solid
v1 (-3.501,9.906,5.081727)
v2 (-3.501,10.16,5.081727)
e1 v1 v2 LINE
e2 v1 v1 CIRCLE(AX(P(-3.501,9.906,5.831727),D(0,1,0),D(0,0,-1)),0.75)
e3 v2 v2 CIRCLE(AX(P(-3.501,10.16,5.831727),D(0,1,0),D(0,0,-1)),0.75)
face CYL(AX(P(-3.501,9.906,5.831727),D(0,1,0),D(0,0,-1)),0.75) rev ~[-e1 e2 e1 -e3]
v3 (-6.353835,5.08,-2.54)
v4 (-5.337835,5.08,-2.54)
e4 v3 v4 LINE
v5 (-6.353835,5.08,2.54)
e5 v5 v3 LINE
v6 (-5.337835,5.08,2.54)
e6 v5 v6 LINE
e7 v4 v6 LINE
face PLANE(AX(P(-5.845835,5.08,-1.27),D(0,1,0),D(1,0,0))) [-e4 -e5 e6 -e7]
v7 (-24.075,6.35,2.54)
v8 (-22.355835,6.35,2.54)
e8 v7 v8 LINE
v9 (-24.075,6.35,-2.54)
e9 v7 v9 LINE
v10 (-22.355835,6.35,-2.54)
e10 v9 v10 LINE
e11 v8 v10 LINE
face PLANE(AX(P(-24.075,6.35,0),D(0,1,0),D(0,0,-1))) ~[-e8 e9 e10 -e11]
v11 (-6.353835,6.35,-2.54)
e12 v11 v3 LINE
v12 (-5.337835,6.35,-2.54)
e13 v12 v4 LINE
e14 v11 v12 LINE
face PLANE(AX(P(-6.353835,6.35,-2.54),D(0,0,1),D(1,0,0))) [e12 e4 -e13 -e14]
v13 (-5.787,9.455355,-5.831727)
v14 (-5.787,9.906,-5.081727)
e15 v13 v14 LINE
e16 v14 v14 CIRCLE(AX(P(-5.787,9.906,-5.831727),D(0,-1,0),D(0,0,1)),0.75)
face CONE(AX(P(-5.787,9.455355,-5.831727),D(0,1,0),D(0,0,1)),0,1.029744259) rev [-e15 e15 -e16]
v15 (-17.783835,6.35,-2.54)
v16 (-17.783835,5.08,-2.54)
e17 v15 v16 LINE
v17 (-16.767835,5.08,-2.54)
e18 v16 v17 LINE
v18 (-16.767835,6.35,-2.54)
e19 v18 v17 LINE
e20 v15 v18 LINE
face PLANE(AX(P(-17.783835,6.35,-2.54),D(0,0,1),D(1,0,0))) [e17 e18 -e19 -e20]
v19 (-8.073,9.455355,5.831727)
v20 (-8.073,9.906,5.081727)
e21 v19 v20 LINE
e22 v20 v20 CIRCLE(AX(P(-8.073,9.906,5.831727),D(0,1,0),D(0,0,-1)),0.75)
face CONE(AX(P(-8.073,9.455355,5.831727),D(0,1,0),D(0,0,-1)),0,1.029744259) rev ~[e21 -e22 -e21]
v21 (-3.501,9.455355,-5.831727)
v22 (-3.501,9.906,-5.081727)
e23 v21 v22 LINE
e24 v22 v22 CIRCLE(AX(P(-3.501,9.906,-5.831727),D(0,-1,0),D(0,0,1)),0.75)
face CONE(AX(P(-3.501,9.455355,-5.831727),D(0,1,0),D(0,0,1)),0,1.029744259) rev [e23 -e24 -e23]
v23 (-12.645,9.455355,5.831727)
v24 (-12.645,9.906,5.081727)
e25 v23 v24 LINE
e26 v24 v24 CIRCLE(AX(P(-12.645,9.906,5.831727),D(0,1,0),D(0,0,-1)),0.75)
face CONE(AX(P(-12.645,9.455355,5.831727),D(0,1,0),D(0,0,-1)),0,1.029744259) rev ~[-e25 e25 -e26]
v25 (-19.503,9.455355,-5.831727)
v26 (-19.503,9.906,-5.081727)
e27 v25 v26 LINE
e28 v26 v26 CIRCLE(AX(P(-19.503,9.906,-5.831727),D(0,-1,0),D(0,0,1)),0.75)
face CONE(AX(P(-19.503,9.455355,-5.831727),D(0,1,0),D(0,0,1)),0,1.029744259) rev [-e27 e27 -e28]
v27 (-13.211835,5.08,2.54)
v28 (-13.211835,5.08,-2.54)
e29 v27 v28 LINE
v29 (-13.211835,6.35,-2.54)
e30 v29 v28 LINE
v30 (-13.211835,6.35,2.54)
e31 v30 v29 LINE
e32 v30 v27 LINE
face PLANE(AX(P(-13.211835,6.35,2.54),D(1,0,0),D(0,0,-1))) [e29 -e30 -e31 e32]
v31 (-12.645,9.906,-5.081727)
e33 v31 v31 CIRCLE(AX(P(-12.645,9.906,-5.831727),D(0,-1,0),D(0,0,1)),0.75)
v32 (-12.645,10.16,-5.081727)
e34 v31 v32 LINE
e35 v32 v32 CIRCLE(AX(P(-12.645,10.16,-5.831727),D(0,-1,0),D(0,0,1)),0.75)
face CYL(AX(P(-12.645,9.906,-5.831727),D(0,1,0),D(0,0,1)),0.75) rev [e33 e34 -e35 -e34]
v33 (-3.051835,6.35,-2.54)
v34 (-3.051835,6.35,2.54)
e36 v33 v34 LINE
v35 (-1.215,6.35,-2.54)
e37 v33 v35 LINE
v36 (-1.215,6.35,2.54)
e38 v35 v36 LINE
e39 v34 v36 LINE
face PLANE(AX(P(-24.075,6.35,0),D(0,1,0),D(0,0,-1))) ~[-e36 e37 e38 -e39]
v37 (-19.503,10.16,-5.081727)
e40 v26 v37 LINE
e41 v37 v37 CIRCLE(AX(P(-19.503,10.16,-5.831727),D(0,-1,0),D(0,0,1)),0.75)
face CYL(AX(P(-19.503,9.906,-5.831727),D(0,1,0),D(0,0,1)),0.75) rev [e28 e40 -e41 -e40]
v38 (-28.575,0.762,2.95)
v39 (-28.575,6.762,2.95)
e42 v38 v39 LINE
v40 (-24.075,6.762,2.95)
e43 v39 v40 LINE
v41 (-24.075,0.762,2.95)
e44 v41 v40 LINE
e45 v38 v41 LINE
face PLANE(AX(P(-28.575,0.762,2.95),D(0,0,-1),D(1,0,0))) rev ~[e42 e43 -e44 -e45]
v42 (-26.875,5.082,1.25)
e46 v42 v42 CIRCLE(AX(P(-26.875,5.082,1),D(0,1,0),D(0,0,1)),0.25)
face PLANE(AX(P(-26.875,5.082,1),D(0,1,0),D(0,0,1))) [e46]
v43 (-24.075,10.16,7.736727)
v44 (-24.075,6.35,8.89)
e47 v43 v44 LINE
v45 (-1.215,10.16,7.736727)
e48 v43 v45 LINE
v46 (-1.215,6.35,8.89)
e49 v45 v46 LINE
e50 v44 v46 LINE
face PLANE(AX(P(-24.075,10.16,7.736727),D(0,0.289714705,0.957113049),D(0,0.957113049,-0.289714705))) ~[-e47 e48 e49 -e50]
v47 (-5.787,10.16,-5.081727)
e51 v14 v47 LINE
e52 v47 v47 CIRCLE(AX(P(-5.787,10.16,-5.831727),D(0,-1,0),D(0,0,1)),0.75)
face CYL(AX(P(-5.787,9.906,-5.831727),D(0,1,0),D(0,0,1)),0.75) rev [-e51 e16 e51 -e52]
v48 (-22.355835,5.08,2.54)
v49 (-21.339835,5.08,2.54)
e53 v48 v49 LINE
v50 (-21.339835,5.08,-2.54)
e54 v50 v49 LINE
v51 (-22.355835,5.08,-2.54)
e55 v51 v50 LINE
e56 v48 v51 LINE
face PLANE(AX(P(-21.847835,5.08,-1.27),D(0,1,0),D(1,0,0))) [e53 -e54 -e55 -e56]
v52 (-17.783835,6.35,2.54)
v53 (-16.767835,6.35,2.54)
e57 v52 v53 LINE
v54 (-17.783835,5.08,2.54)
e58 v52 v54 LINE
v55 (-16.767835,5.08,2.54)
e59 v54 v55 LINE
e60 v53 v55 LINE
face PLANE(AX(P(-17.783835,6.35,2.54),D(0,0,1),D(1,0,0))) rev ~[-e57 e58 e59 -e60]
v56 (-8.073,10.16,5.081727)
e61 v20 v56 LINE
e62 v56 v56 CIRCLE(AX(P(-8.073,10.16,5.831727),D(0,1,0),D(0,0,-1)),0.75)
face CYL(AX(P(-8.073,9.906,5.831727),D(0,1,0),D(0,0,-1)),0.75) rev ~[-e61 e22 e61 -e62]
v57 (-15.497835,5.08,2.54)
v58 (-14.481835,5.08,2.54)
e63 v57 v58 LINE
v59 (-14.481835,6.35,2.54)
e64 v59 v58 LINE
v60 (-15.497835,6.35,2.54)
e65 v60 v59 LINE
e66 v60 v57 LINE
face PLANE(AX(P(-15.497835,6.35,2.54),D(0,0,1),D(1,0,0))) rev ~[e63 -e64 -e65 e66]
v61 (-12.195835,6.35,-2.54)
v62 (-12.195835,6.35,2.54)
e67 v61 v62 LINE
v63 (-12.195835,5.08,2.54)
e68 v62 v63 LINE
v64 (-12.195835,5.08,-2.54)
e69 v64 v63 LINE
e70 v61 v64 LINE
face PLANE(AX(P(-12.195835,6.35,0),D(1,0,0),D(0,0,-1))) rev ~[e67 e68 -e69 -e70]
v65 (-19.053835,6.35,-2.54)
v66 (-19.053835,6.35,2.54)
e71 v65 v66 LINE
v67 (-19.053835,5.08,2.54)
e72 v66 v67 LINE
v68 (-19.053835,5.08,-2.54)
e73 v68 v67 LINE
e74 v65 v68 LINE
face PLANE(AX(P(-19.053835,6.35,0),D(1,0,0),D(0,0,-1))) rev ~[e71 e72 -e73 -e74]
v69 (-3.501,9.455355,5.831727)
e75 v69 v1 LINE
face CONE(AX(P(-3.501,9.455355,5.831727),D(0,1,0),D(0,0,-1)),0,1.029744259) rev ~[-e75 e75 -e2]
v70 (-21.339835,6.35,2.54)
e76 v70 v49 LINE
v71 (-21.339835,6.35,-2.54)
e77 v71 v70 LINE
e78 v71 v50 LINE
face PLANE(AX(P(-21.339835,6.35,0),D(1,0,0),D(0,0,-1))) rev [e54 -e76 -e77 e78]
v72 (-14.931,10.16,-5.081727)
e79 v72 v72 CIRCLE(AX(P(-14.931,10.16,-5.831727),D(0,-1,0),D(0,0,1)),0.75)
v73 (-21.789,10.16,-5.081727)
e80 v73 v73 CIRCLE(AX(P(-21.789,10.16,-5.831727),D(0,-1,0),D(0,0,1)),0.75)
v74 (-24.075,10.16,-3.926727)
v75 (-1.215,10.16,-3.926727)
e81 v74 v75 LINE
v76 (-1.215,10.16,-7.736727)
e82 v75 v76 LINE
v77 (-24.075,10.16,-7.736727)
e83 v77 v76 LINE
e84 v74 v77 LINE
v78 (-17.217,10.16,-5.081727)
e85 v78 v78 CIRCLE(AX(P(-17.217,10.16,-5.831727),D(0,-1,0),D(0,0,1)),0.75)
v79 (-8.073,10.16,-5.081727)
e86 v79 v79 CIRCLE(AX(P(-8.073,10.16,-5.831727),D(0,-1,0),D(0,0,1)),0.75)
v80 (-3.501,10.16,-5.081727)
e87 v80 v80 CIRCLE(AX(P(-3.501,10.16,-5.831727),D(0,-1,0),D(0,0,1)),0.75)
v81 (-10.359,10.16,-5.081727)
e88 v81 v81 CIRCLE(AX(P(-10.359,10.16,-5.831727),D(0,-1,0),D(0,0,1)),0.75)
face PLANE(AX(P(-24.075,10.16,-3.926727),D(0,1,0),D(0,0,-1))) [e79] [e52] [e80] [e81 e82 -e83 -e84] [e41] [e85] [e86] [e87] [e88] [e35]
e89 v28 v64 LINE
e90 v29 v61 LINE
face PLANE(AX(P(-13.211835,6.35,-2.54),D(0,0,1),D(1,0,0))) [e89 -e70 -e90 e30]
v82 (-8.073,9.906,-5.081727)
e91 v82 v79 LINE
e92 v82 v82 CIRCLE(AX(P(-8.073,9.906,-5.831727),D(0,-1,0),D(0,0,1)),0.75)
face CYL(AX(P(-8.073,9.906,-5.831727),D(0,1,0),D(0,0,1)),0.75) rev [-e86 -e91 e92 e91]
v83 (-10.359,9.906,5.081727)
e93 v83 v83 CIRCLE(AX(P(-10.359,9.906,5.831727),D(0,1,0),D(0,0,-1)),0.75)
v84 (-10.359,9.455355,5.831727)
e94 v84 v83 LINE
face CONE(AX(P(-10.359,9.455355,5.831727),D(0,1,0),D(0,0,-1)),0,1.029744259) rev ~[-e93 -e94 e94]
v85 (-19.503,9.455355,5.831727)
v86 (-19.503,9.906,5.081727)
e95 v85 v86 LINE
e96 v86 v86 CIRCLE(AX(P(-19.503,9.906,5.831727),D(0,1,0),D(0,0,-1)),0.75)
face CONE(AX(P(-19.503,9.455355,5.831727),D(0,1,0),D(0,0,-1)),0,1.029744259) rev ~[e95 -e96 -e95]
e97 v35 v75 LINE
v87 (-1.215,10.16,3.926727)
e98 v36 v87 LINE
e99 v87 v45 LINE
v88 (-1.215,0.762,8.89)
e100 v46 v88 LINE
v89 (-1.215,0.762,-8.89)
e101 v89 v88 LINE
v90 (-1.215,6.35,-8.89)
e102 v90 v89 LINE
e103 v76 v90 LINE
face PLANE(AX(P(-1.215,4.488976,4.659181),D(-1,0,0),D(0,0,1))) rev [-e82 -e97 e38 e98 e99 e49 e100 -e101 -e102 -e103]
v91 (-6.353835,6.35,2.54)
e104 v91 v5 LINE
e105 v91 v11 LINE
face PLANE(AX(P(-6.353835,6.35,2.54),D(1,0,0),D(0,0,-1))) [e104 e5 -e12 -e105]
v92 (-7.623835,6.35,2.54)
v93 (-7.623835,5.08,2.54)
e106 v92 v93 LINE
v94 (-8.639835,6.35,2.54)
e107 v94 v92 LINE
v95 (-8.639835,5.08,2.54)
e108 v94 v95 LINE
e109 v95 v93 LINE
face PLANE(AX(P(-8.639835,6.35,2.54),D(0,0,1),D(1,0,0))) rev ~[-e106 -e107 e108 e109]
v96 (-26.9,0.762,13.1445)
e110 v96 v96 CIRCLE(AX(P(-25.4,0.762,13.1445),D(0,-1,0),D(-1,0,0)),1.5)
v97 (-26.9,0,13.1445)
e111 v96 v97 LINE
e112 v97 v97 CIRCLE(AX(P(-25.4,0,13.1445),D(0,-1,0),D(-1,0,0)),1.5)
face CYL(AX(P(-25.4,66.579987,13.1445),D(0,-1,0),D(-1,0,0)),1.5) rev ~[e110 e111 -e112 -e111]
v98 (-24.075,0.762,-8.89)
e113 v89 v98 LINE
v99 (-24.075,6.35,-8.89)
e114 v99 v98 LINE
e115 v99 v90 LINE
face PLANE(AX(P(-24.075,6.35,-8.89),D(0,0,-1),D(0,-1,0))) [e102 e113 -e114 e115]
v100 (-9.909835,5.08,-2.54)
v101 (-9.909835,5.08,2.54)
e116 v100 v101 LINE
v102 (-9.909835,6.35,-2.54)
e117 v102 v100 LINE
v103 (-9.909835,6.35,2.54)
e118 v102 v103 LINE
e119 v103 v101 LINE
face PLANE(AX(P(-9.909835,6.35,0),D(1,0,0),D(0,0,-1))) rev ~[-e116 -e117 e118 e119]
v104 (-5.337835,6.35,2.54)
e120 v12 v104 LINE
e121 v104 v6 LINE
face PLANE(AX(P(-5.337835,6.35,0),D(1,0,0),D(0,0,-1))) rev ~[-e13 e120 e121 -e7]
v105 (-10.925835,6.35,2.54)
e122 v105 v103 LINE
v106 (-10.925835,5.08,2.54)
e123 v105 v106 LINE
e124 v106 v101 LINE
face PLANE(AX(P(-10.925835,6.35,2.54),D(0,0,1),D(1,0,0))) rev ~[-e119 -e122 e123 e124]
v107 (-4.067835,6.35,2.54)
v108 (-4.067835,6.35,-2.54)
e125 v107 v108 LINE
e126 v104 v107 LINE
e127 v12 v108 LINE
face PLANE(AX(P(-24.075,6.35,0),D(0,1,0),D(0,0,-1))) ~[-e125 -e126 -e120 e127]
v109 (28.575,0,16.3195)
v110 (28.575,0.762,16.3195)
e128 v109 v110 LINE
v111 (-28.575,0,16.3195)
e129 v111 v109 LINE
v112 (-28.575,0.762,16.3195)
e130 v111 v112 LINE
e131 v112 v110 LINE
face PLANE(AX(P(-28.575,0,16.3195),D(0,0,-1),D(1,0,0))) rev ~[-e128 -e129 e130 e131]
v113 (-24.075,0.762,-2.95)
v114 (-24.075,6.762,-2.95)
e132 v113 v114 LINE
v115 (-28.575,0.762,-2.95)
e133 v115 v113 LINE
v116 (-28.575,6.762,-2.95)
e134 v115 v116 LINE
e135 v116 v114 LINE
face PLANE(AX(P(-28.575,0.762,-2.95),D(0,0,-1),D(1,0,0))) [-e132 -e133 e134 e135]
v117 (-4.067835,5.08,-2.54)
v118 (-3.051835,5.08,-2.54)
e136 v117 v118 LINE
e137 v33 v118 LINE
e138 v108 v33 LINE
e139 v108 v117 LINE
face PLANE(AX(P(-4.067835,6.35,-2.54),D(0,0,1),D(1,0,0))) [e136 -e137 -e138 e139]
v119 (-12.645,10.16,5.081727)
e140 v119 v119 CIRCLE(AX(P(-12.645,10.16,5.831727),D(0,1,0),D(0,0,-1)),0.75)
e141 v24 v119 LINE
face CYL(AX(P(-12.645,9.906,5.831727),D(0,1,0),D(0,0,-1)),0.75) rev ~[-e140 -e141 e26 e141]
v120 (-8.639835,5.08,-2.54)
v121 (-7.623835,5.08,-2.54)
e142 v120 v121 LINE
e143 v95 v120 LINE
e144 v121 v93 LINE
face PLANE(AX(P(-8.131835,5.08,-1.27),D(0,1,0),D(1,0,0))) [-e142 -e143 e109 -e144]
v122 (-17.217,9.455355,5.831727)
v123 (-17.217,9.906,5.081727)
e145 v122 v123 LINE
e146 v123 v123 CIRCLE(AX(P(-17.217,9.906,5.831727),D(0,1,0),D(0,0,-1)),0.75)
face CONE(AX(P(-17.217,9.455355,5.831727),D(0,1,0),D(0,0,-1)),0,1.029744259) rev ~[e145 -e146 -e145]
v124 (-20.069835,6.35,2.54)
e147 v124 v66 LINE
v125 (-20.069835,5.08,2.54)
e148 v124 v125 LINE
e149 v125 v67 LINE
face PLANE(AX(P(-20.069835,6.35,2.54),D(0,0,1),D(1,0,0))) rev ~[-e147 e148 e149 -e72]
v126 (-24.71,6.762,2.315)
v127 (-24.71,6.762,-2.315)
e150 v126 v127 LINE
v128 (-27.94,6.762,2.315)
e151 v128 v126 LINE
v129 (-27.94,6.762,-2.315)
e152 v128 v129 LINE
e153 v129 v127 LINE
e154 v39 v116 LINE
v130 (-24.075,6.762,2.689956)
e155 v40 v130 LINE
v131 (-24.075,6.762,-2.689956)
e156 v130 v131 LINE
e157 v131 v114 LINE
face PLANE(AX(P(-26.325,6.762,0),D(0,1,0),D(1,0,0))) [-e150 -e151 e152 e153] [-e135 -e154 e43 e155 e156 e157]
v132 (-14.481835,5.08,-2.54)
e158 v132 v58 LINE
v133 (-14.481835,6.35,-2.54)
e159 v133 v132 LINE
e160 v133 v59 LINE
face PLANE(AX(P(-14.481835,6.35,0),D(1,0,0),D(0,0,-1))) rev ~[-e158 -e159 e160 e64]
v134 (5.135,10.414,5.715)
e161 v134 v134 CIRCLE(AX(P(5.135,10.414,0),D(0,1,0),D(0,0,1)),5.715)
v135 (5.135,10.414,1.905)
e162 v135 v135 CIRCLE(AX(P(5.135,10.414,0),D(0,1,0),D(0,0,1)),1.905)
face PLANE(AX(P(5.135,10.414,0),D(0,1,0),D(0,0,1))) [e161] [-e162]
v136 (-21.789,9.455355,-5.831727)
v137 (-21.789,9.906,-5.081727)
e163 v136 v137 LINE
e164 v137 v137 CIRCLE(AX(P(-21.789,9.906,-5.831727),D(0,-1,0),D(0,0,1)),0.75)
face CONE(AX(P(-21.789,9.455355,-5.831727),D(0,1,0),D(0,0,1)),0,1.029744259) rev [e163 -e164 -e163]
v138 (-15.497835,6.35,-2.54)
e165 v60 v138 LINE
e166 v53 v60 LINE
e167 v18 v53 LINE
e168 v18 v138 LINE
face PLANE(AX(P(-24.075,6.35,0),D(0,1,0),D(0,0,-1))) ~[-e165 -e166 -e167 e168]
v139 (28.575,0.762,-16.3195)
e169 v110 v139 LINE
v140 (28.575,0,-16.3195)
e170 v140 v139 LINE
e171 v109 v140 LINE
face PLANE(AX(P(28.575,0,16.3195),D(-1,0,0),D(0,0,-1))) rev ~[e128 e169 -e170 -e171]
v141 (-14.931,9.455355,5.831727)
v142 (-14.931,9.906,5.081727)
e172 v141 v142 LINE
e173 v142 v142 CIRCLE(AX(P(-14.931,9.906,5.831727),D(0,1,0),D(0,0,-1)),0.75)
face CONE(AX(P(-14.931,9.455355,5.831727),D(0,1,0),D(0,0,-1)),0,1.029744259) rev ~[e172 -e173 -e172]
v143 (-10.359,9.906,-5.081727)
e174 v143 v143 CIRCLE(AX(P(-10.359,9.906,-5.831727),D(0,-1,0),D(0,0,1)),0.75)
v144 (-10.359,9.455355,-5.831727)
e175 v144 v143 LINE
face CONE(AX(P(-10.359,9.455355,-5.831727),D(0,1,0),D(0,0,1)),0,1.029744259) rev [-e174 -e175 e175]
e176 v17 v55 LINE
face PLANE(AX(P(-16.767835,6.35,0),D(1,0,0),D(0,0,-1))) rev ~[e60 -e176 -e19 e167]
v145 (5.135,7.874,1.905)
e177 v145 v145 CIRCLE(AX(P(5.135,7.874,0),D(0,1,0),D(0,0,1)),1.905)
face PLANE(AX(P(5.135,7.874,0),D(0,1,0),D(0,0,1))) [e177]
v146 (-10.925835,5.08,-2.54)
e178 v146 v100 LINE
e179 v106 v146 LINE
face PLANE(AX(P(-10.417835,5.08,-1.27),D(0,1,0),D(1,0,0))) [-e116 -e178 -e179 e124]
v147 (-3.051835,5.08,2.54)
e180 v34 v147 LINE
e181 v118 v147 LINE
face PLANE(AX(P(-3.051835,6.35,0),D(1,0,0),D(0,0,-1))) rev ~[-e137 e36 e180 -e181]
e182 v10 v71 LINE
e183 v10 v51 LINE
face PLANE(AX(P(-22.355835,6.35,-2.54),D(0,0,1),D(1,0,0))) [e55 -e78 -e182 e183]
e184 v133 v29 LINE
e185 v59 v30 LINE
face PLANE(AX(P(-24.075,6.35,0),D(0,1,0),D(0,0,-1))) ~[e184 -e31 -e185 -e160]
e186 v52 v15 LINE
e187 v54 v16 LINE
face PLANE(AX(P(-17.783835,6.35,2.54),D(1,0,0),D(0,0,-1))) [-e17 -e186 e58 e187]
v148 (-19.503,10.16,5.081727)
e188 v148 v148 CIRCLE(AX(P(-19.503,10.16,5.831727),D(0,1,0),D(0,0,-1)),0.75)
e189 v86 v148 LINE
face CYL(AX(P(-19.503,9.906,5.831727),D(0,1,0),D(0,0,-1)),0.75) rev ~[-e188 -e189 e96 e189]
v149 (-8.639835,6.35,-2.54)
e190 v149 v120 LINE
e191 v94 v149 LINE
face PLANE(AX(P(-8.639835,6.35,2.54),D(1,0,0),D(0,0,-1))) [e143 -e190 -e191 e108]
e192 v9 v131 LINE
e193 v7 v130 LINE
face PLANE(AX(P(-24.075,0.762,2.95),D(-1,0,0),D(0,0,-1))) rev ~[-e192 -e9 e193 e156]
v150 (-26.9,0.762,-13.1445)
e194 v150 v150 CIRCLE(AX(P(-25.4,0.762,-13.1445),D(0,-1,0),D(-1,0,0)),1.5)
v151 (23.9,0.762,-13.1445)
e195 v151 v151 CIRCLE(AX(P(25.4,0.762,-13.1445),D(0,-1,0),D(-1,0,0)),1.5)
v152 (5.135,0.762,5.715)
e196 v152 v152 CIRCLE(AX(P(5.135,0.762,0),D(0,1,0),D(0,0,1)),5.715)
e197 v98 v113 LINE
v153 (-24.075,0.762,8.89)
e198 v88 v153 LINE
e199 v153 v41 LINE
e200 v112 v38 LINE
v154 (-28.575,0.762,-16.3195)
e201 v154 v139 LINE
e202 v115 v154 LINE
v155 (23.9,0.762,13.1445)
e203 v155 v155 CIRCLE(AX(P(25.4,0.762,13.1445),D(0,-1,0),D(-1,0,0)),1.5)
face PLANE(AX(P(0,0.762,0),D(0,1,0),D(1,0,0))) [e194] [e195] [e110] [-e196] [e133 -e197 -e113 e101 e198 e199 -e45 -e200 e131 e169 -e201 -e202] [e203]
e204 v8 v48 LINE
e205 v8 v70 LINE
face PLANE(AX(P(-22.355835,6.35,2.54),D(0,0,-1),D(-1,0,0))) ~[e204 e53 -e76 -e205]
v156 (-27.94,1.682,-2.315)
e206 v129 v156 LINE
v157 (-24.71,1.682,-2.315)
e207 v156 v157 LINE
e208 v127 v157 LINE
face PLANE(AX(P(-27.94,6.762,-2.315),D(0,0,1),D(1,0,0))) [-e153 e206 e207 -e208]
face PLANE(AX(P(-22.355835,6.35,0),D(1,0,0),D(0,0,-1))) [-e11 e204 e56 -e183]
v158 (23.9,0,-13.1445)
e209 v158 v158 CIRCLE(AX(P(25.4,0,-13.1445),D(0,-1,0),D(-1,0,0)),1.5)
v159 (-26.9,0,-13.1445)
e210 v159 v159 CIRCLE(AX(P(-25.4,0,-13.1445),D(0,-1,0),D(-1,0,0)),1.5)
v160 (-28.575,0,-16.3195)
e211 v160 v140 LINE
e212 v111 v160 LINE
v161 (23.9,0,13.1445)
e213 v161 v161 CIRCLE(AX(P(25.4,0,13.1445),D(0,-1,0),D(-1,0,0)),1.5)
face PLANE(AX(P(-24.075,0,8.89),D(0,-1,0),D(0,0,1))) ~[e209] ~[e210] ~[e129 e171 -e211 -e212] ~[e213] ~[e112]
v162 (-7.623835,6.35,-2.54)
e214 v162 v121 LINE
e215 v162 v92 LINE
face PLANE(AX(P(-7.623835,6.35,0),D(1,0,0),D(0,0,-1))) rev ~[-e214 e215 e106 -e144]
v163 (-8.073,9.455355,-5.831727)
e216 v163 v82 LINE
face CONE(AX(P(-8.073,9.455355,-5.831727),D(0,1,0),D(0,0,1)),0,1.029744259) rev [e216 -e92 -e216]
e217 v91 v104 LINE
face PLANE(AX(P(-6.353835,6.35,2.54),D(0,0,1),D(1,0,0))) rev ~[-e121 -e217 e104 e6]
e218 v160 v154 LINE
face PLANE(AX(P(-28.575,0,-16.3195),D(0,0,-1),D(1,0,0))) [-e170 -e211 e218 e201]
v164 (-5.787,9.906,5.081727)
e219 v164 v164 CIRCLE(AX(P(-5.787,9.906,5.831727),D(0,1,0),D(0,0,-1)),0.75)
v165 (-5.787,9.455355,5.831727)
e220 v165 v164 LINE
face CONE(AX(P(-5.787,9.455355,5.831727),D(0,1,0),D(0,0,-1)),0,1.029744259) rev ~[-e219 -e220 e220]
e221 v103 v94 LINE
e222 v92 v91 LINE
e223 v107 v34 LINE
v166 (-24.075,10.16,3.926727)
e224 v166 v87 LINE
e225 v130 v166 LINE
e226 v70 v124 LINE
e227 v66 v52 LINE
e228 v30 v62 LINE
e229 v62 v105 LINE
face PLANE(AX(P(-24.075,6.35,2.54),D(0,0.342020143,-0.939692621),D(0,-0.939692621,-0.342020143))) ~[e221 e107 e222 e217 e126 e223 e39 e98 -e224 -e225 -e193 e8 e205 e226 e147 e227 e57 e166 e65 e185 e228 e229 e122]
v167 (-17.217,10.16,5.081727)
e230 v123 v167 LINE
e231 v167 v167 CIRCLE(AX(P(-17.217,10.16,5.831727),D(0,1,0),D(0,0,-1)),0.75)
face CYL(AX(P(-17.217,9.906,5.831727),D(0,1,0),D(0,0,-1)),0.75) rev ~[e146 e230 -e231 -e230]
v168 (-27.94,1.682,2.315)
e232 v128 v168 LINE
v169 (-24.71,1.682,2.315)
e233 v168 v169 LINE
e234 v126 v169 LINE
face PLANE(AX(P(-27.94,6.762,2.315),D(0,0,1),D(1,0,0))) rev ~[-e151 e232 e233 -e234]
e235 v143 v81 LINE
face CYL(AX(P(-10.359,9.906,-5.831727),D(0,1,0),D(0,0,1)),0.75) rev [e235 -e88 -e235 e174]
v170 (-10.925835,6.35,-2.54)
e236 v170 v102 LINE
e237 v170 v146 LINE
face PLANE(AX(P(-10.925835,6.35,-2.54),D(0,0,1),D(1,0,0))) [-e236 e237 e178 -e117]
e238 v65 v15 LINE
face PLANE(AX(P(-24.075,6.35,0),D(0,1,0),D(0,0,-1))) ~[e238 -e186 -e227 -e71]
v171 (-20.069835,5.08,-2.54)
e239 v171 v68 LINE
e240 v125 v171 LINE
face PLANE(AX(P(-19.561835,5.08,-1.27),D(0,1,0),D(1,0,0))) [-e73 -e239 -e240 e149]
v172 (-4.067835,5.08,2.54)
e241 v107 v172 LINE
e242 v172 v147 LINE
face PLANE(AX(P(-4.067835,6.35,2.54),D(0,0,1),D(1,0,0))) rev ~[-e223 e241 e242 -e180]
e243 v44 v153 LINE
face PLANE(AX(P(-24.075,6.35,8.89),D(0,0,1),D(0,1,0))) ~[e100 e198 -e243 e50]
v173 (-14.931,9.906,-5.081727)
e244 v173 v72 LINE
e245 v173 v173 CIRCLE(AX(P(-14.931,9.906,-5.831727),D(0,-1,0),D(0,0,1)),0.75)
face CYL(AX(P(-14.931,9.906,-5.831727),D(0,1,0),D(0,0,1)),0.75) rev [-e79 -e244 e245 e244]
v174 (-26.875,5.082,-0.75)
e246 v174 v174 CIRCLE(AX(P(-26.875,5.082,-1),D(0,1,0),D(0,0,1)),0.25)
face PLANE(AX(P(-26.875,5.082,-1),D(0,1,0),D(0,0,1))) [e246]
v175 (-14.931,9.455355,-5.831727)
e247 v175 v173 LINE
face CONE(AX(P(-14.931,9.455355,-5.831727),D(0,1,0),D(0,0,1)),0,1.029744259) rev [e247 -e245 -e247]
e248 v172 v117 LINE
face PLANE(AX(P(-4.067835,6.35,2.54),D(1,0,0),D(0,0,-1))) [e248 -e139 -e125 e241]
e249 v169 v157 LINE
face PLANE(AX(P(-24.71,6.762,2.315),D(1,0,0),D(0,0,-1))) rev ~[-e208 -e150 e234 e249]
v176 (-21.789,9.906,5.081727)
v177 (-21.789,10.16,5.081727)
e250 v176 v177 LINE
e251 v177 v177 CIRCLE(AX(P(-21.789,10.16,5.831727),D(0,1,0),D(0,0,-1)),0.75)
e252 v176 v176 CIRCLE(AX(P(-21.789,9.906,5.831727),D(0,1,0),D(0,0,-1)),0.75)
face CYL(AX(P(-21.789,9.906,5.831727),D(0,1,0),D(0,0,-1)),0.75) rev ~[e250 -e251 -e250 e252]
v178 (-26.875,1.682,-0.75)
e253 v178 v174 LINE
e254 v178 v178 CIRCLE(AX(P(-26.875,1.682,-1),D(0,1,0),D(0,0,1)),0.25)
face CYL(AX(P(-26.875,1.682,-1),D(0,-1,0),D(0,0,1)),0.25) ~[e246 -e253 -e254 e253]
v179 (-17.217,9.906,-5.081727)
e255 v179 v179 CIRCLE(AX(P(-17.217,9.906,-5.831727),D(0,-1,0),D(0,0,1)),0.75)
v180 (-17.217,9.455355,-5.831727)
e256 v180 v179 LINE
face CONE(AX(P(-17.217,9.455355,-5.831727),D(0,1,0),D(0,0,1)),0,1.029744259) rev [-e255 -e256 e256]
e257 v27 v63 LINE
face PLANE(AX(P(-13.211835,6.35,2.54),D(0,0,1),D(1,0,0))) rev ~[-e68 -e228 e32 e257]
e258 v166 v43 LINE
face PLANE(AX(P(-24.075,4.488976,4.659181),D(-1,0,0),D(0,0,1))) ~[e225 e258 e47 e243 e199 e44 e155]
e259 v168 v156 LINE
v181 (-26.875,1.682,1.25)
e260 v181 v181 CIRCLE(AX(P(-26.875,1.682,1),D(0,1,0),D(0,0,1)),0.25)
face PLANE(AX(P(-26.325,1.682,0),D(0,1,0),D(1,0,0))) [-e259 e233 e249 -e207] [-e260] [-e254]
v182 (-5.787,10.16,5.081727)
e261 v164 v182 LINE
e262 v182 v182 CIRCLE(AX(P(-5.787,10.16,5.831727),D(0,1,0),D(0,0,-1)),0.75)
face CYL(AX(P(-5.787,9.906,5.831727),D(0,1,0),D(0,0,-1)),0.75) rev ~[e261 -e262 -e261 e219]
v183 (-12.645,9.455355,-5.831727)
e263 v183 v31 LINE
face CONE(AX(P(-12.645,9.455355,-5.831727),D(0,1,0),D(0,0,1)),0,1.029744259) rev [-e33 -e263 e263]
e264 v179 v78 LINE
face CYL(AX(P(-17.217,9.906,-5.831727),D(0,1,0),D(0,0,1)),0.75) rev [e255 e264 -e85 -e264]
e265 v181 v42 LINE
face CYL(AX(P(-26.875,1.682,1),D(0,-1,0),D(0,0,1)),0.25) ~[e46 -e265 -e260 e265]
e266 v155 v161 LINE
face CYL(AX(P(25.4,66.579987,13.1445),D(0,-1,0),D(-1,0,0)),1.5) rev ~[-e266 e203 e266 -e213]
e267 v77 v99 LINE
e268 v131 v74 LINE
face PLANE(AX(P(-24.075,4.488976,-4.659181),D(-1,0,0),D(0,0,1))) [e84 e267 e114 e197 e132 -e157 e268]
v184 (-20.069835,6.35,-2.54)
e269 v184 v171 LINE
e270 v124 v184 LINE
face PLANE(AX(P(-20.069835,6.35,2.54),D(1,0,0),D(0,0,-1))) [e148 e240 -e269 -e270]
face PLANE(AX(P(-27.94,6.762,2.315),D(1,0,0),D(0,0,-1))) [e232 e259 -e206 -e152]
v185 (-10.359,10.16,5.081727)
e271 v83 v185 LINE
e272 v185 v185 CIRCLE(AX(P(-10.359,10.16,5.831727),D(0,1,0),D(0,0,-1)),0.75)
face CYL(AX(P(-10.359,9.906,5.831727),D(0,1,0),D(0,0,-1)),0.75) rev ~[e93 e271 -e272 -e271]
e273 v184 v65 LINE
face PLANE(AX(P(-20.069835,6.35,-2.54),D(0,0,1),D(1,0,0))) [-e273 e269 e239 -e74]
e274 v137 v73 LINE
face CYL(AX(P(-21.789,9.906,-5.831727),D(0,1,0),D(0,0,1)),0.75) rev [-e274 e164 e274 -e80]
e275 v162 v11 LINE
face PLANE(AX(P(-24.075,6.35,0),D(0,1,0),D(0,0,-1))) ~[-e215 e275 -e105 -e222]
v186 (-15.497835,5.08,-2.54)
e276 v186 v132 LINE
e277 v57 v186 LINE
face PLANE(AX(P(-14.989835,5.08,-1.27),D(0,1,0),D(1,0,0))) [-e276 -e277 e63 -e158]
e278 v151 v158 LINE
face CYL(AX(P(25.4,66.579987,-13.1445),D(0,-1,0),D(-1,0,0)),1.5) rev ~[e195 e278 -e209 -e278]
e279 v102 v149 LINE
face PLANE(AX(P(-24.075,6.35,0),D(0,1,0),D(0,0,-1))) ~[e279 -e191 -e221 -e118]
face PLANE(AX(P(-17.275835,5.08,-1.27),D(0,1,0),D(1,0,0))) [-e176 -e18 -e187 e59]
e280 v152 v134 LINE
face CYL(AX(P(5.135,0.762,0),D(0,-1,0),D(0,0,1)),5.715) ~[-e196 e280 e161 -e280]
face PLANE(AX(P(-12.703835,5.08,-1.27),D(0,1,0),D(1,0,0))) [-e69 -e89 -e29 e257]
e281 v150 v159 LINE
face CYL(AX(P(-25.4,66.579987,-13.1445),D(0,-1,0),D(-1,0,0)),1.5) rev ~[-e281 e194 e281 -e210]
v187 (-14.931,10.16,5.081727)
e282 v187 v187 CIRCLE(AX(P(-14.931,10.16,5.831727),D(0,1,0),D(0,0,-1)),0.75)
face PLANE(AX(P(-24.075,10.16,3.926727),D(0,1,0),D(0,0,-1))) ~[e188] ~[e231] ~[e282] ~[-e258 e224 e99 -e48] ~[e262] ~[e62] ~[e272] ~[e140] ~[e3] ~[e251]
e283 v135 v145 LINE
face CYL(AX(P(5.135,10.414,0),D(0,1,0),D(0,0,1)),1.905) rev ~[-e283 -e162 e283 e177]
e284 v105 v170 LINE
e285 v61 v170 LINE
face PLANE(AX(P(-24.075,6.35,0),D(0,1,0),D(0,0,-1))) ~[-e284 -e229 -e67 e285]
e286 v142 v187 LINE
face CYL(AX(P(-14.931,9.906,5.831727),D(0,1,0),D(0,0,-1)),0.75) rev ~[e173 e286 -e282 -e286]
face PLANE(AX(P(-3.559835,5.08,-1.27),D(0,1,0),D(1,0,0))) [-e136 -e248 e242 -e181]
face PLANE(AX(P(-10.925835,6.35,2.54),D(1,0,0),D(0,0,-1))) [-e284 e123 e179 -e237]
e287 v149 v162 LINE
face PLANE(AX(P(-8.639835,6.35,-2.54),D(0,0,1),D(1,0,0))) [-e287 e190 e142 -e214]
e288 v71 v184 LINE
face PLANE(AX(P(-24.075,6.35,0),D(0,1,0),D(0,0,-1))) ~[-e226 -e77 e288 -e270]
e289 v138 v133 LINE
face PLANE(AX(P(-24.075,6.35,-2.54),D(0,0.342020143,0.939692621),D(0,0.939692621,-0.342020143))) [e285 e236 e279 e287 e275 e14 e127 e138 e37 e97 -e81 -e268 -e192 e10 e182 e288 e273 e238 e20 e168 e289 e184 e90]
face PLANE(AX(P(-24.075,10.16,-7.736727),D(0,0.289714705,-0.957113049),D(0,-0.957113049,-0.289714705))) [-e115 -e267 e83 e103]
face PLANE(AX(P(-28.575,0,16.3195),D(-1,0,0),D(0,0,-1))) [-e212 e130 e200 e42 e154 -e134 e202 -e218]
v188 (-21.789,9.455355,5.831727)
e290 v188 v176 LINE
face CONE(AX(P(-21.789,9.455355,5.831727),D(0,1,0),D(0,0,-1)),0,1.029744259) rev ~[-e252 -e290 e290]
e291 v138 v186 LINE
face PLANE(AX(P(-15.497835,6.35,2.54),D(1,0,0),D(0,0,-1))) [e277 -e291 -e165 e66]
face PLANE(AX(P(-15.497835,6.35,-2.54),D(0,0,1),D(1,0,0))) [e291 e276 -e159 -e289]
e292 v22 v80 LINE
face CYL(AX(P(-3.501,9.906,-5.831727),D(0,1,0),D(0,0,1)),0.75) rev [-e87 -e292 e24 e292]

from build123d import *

# Parameters (mm, degrees)
SKETCH1_W                      = 57.15
SKETCH1_H                      = 32.639
BOSS_EXTRUDE1_DEPTH            = 0.762
F_3_0MM_DOWEL_HOLE1_D          = 3
SKETCH5_W                      = 4.5
SKETCH5_H                      = 5.9
BOSS_EXTRUDE2_DEPTH            = 6
SKETCH6_W                      = 3.23
SKETCH6_H                      = 4.63
CUT_EXTRUDE1_DEPTH             = 5.08
SKETCH7_R                      = 0.25
BOSS_EXTRUDE3_DEPTH            = 3.4
BOSS_EXTRUDE4_DEPTH            = 22.86
F_1_5MM_DOWEL_HOLE1_AT_2_COUNT = 2
F_1_5MM_DOWEL_HOLE1_AT_2_PITCH = 2.286
F_1_5MM_DOWEL_HOLE1_AT_3_COUNT = 2
F_1_5MM_DOWEL_HOLE1_AT_3_PITCH = 4.572
F_1_5MM_DOWEL_HOLE1_AT_4_COUNT = 2
F_1_5MM_DOWEL_HOLE1_AT_4_PITCH = 6.858
F_1_5MM_DOWEL_HOLE1_AT_5_COUNT = 2
F_1_5MM_DOWEL_HOLE1_AT_5_PITCH = 9.144
F_1_5MM_DOWEL_HOLE1_AT_6_COUNT = 2
F_1_5MM_DOWEL_HOLE1_AT_6_PITCH = 11.43
F_1_5MM_DOWEL_HOLE1_AT_7_COUNT = 2
F_1_5MM_DOWEL_HOLE1_AT_7_PITCH = 13.716
F_1_5MM_DOWEL_HOLE1_AT_8_COUNT = 2
F_1_5MM_DOWEL_HOLE1_AT_8_PITCH = 16.002
F_1_5MM_DOWEL_HOLE1_AT_9_COUNT = 2
F_1_5MM_DOWEL_HOLE1_AT_9_PITCH = 18.288
SKETCH13_W                     = 1.016
SKETCH13_H                     = 2.54
CUT_EXTRUDE2_DEPTH             = 1.27
LPATTERN1_COUNT                = 9
LPATTERN1_PITCH                = 2.286
MIRROR1_COPY_9_SKETCH_W        = 1.016
MIRROR1_COPY_9_SKETCH_H        = 2.54
MIRROR1_COPY_9_DEPTH           = 1.27
MIRROR1_COPY_10_SKETCH_W       = 1.016
MIRROR1_COPY_10_SKETCH_H       = 2.54
MIRROR1_COPY_10_DEPTH          = 1.27
MIRROR1_COPY_11_SKETCH_W       = 1.016
MIRROR1_COPY_11_SKETCH_H       = 2.54
MIRROR1_COPY_11_DEPTH          = 1.27
MIRROR1_COPY_12_SKETCH_W       = 1.016
MIRROR1_COPY_12_SKETCH_H       = 2.54
MIRROR1_COPY_12_DEPTH          = 1.27
MIRROR1_COPY_13_SKETCH_W       = 1.016
MIRROR1_COPY_13_SKETCH_H       = 2.54
MIRROR1_COPY_13_DEPTH          = 1.27
MIRROR1_COPY_14_SKETCH_W       = 1.016
MIRROR1_COPY_14_SKETCH_H       = 2.54
MIRROR1_COPY_14_DEPTH          = 1.27
MIRROR1_COPY_15_SKETCH_W       = 1.016
MIRROR1_COPY_15_SKETCH_H       = 2.54
MIRROR1_COPY_15_DEPTH          = 1.27
MIRROR1_COPY_16_SKETCH_W       = 1.016
MIRROR1_COPY_16_SKETCH_H       = 2.54
MIRROR1_COPY_16_DEPTH          = 1.27
SKETCH15_R                     = 5.715
BOSS_EXTRUDE5_DEPTH            = 9.652
SKETCH16_R                     = 1.905
CUT_EXTRUDE3_DEPTH             = 2.54


with BuildPart() as part:
    # Sketch1 → Boss-Extrude1 (new body)
    with BuildSketch(Plane(origin=(0, 0, 0), x_dir=(1, 0, 0), z_dir=(0, 1, 0))):
        Rectangle(SKETCH1_W, SKETCH1_H)
    extrude(amount=BOSS_EXTRUDE1_DEPTH)

    # Ø3.0mm Dowel Hole1 (through all)
    with Locations(Plane(origin=(0, 0.762, 0), x_dir=(1, 0, 0), z_dir=(0, 1, 0))):
        with Locations((-25.4, 13.1445), (-25.4, -13.1445), (25.4, -13.1445), (25.4, 13.1445)):
            Hole(F_3_0MM_DOWEL_HOLE1_D / 2)

    # Sketch5 → Boss-Extrude2 (add)
    with BuildSketch(Plane(origin=(0, 0.762, 0), x_dir=(1, 0, 0), z_dir=(0, 1, 0))):
        with Locations((-26.325, 0)):
            Rectangle(SKETCH5_W, SKETCH5_H)
    extrude(amount=BOSS_EXTRUDE2_DEPTH)

    # Sketch6 → Cut-Extrude1 (cut)
    with BuildSketch(Plane(origin=(0, 6.762, 0), x_dir=(1, 0, 0), z_dir=(0, 1, 0))):
        with Locations((-26.325, 0)):
            Rectangle(SKETCH6_W, SKETCH6_H)
    extrude(amount=-CUT_EXTRUDE1_DEPTH, mode=Mode.SUBTRACT)

    # Sketch7 → Boss-Extrude3 (add)
    with BuildSketch(Plane(origin=(0, 1.682, 0), x_dir=(1, 0, 0), z_dir=(0, 1, 0))):
        with Locations(Location((-26.875, 1, 0), (0, 0, 270))):
            Circle(SKETCH7_R)
        with Locations(Location((-26.875, -1, 0), (0, 0, 270))):
            Circle(SKETCH7_R)
    extrude(amount=BOSS_EXTRUDE3_DEPTH)

    # Sketch9 → Boss-Extrude4 (add)
    with BuildSketch(Plane(origin=(-24.075, 0, 0), x_dir=(0, 0, -1), z_dir=(1, 0, 0))):
        Polygon((0, 0), (0, 6.35), (2.54, 6.35), (3.926726593, 10.16), (7.736726593, 10.16), (8.89, 6.35), (8.89, 0), align=None)
    boss_extrude4 = extrude(amount=BOSS_EXTRUDE4_DEPTH)

    # Sketch11 → Ø1.5mm Dowel Hole1 (revolve, cut)
    with BuildSketch(Plane(origin=(-21.789, 10.16, -5.831726593), x_dir=(0, 0, 1), z_dir=(1, 0, 0))):
        Polygon((0, 0), (0, 0.704645464), (0.75, 0.254), (0.75, 0), align=None)
    f_1_5mm_dowel_hole1 = revolve(axis=Axis((-21.789, 16.51, -5.831726593), (0, -1, 0)), mode=Mode.SUBTRACT)

    # Ø1.5mm Dowel Hole1 at 2: Ø1.5mm Dowel Hole1 ×2
    with Locations(*[(i * F_1_5MM_DOWEL_HOLE1_AT_2_PITCH, 0, 0) for i in range(1, F_1_5MM_DOWEL_HOLE1_AT_2_COUNT)]):
        add(f_1_5mm_dowel_hole1, mode=Mode.SUBTRACT)

    # Ø1.5mm Dowel Hole1 at 3: Ø1.5mm Dowel Hole1 ×2
    with Locations(*[(i * F_1_5MM_DOWEL_HOLE1_AT_3_PITCH, 0, 0) for i in range(1, F_1_5MM_DOWEL_HOLE1_AT_3_COUNT)]):
        add(f_1_5mm_dowel_hole1, mode=Mode.SUBTRACT)

    # Ø1.5mm Dowel Hole1 at 4: Ø1.5mm Dowel Hole1 ×2
    with Locations(*[(i * F_1_5MM_DOWEL_HOLE1_AT_4_PITCH, 0, 0) for i in range(1, F_1_5MM_DOWEL_HOLE1_AT_4_COUNT)]):
        add(f_1_5mm_dowel_hole1, mode=Mode.SUBTRACT)

    # Ø1.5mm Dowel Hole1 at 5: Ø1.5mm Dowel Hole1 ×2
    with Locations(*[(i * F_1_5MM_DOWEL_HOLE1_AT_5_PITCH, 0, 0) for i in range(1, F_1_5MM_DOWEL_HOLE1_AT_5_COUNT)]):
        add(f_1_5mm_dowel_hole1, mode=Mode.SUBTRACT)

    # Ø1.5mm Dowel Hole1 at 6: Ø1.5mm Dowel Hole1 ×2
    with Locations(*[(i * F_1_5MM_DOWEL_HOLE1_AT_6_PITCH, 0, 0) for i in range(1, F_1_5MM_DOWEL_HOLE1_AT_6_COUNT)]):
        add(f_1_5mm_dowel_hole1, mode=Mode.SUBTRACT)

    # Ø1.5mm Dowel Hole1 at 7: Ø1.5mm Dowel Hole1 ×2
    with Locations(*[(i * F_1_5MM_DOWEL_HOLE1_AT_7_PITCH, 0, 0) for i in range(1, F_1_5MM_DOWEL_HOLE1_AT_7_COUNT)]):
        add(f_1_5mm_dowel_hole1, mode=Mode.SUBTRACT)

    # Ø1.5mm Dowel Hole1 at 8: Ø1.5mm Dowel Hole1 ×2
    with Locations(*[(i * F_1_5MM_DOWEL_HOLE1_AT_8_PITCH, 0, 0) for i in range(1, F_1_5MM_DOWEL_HOLE1_AT_8_COUNT)]):
        add(f_1_5mm_dowel_hole1, mode=Mode.SUBTRACT)

    # Ø1.5mm Dowel Hole1 at 9: Ø1.5mm Dowel Hole1 ×2
    with Locations(*[(i * F_1_5MM_DOWEL_HOLE1_AT_9_PITCH, 0, 0) for i in range(1, F_1_5MM_DOWEL_HOLE1_AT_9_COUNT)]):
        add(f_1_5mm_dowel_hole1, mode=Mode.SUBTRACT)

    # Sketch13 → Cut-Extrude2 (cut)
    with BuildSketch(Plane(origin=(0, 6.35, 0), x_dir=(1, 0, 0), z_dir=(0, 1, 0))):
        with Locations((-21.847835496, 1.27)):
            Rectangle(SKETCH13_W, SKETCH13_H)
    cut_extrude2 = extrude(amount=-CUT_EXTRUDE2_DEPTH, mode=Mode.SUBTRACT)

    # LPattern1: Cut-Extrude2 ×9
    with Locations(*[(i * LPATTERN1_PITCH, 0, 0) for i in range(1, LPATTERN1_COUNT)]):
        add(cut_extrude2, mode=Mode.SUBTRACT)

    # Mirror1: Boss-Extrude4, Ø1.5mm Dowel Hole1, Cut-Extrude2 across plane
    add(boss_extrude4.mirror(Plane.XY))
    add(f_1_5mm_dowel_hole1.mirror(Plane.XY), mode=Mode.SUBTRACT)
    add(cut_extrude2.mirror(Plane.XY), mode=Mode.SUBTRACT)

    # Mirror1 copy 1 sketch → Mirror1 copy 1 (revolve, cut)
    with BuildSketch(Plane(origin=(-19.503, 10.16, 5.831726593), x_dir=(0, 0, -1), z_dir=(1, 0, 0))):
        Polygon((0, 0), (0, -0.704645464), (0.75, -0.254), (0.75, 0), align=None)
    revolve(axis=Axis((-19.503, 16.51, 5.831726593), (0, 1, 0)), mode=Mode.SUBTRACT)

    # Mirror1 copy 2 sketch → Mirror1 copy 2 (revolve, cut)
    with BuildSketch(Plane(origin=(-17.217, 10.16, 5.831726593), x_dir=(0, 0, -1), z_dir=(1, 0, 0))):
        Polygon((0, 0), (0, -0.704645464), (0.75, -0.254), (0.75, 0), align=None)
    revolve(axis=Axis((-17.217, 16.51, 5.831726593), (0, 1, 0)), mode=Mode.SUBTRACT)

    # Mirror1 copy 3 sketch → Mirror1 copy 3 (revolve, cut)
    with BuildSketch(Plane(origin=(-14.931, 10.16, 5.831726593), x_dir=(0, 0, -1), z_dir=(1, 0, 0))):
        Polygon((0, 0), (0, -0.704645464), (0.75, -0.254), (0.75, 0), align=None)
    revolve(axis=Axis((-14.931, 16.51, 5.831726593), (0, 1, 0)), mode=Mode.SUBTRACT)

    # Mirror1 copy 4 sketch → Mirror1 copy 4 (revolve, cut)
    with BuildSketch(Plane(origin=(-12.645, 10.16, 5.831726593), x_dir=(0, 0, -1), z_dir=(1, 0, 0))):
        Polygon((0, 0), (0, -0.704645464), (0.75, -0.254), (0.75, 0), align=None)
    revolve(axis=Axis((-12.645, 16.51, 5.831726593), (0, 1, 0)), mode=Mode.SUBTRACT)

    # Mirror1 copy 5 sketch → Mirror1 copy 5 (revolve, cut)
    with BuildSketch(Plane(origin=(-10.359, 10.16, 5.831726593), x_dir=(0, 0, -1), z_dir=(1, 0, 0))):
        Polygon((0, 0), (0, -0.704645464), (0.75, -0.254), (0.75, 0), align=None)
    revolve(axis=Axis((-10.359, 16.51, 5.831726593), (0, 1, 0)), mode=Mode.SUBTRACT)

    # Mirror1 copy 6 sketch → Mirror1 copy 6 (revolve, cut)
    with BuildSketch(Plane(origin=(-8.073, 10.16, 5.831726593), x_dir=(0, 0, -1), z_dir=(1, 0, 0))):
        Polygon((0, 0), (0, -0.704645464), (0.75, -0.254), (0.75, 0), align=None)
    revolve(axis=Axis((-8.073, 16.51, 5.831726593), (0, 1, 0)), mode=Mode.SUBTRACT)

    # Mirror1 copy 7 sketch → Mirror1 copy 7 (revolve, cut)
    with BuildSketch(Plane(origin=(-5.787, 10.16, 5.831726593), x_dir=(0, 0, -1), z_dir=(1, 0, 0))):
        Polygon((0, 0), (0, -0.704645464), (0.75, -0.254), (0.75, 0), align=None)
    revolve(axis=Axis((-5.787, 16.51, 5.831726593), (0, 1, 0)), mode=Mode.SUBTRACT)

    # Mirror1 copy 8 sketch → Mirror1 copy 8 (revolve, cut)
    with BuildSketch(Plane(origin=(-3.501, 10.16, 5.831726593), x_dir=(0, 0, -1), z_dir=(1, 0, 0))):
        Polygon((0, 0), (0, -0.704645464), (0.75, -0.254), (0.75, 0), align=None)
    revolve(axis=Axis((-3.501, 16.51, 5.831726593), (0, 1, 0)), mode=Mode.SUBTRACT)

    # Mirror1 copy 9 sketch → Mirror1 copy 9 (cut)
    with BuildSketch(Plane(origin=(2.286, 6.35, 0), x_dir=(1, 0, 0), z_dir=(0, 1, 0))):
        with Locations((-21.847835496, -1.27)):
            Rectangle(MIRROR1_COPY_9_SKETCH_W, MIRROR1_COPY_9_SKETCH_H)
    extrude(amount=-MIRROR1_COPY_9_DEPTH, mode=Mode.SUBTRACT)

    # Mirror1 copy 10 sketch → Mirror1 copy 10 (cut)
    with BuildSketch(Plane(origin=(4.572, 6.35, 0), x_dir=(1, 0, 0), z_dir=(0, 1, 0))):
        with Locations((-21.847835496, -1.27)):
            Rectangle(MIRROR1_COPY_10_SKETCH_W, MIRROR1_COPY_10_SKETCH_H)
    extrude(amount=-MIRROR1_COPY_10_DEPTH, mode=Mode.SUBTRACT)

    # Mirror1 copy 11 sketch → Mirror1 copy 11 (cut)
    with BuildSketch(Plane(origin=(6.858, 6.35, 0), x_dir=(1, 0, 0), z_dir=(0, 1, 0))):
        with Locations((-21.847835496, -1.27)):
            Rectangle(MIRROR1_COPY_11_SKETCH_W, MIRROR1_COPY_11_SKETCH_H)
    extrude(amount=-MIRROR1_COPY_11_DEPTH, mode=Mode.SUBTRACT)

    # Mirror1 copy 12 sketch → Mirror1 copy 12 (cut)
    with BuildSketch(Plane(origin=(9.144, 6.35, 0), x_dir=(1, 0, 0), z_dir=(0, 1, 0))):
        with Locations((-21.847835496, -1.27)):
            Rectangle(MIRROR1_COPY_12_SKETCH_W, MIRROR1_COPY_12_SKETCH_H)
    extrude(amount=-MIRROR1_COPY_12_DEPTH, mode=Mode.SUBTRACT)

    # Mirror1 copy 13 sketch → Mirror1 copy 13 (cut)
    with BuildSketch(Plane(origin=(11.43, 6.35, 0), x_dir=(1, 0, 0), z_dir=(0, 1, 0))):
        with Locations((-21.847835496, -1.27)):
            Rectangle(MIRROR1_COPY_13_SKETCH_W, MIRROR1_COPY_13_SKETCH_H)
    extrude(amount=-MIRROR1_COPY_13_DEPTH, mode=Mode.SUBTRACT)

    # Mirror1 copy 14 sketch → Mirror1 copy 14 (cut)
    with BuildSketch(Plane(origin=(13.716, 6.35, 0), x_dir=(1, 0, 0), z_dir=(0, 1, 0))):
        with Locations((-21.847835496, -1.27)):
            Rectangle(MIRROR1_COPY_14_SKETCH_W, MIRROR1_COPY_14_SKETCH_H)
    extrude(amount=-MIRROR1_COPY_14_DEPTH, mode=Mode.SUBTRACT)

    # Mirror1 copy 15 sketch → Mirror1 copy 15 (cut)
    with BuildSketch(Plane(origin=(16.002, 6.35, 0), x_dir=(1, 0, 0), z_dir=(0, 1, 0))):
        with Locations((-21.847835496, -1.27)):
            Rectangle(MIRROR1_COPY_15_SKETCH_W, MIRROR1_COPY_15_SKETCH_H)
    extrude(amount=-MIRROR1_COPY_15_DEPTH, mode=Mode.SUBTRACT)

    # Mirror1 copy 16 sketch → Mirror1 copy 16 (cut)
    with BuildSketch(Plane(origin=(18.288, 6.35, 0), x_dir=(1, 0, 0), z_dir=(0, 1, 0))):
        with Locations((-21.847835496, -1.27)):
            Rectangle(MIRROR1_COPY_16_SKETCH_W, MIRROR1_COPY_16_SKETCH_H)
    extrude(amount=-MIRROR1_COPY_16_DEPTH, mode=Mode.SUBTRACT)

    # Sketch15 → Boss-Extrude5 (add)
    with BuildSketch(Plane(origin=(0, 0.762, 0), x_dir=(1, 0, 0), z_dir=(0, 1, 0))):
        with Locations(Location((5.135, 0, 0), (0, 0, 270))):
            Circle(SKETCH15_R)
    extrude(amount=BOSS_EXTRUDE5_DEPTH)

    # Sketch16 → Cut-Extrude3 (cut)
    with BuildSketch(Plane(origin=(0, 10.414, 0), x_dir=(1, 0, 0), z_dir=(0, 1, 0))):
        with Locations(Location((5.135, 0, 0), (0, 0, 270))):
            Circle(SKETCH16_R)
    extrude(amount=-CUT_EXTRUDE3_DEPTH, mode=Mode.SUBTRACT)


solid = part.part
